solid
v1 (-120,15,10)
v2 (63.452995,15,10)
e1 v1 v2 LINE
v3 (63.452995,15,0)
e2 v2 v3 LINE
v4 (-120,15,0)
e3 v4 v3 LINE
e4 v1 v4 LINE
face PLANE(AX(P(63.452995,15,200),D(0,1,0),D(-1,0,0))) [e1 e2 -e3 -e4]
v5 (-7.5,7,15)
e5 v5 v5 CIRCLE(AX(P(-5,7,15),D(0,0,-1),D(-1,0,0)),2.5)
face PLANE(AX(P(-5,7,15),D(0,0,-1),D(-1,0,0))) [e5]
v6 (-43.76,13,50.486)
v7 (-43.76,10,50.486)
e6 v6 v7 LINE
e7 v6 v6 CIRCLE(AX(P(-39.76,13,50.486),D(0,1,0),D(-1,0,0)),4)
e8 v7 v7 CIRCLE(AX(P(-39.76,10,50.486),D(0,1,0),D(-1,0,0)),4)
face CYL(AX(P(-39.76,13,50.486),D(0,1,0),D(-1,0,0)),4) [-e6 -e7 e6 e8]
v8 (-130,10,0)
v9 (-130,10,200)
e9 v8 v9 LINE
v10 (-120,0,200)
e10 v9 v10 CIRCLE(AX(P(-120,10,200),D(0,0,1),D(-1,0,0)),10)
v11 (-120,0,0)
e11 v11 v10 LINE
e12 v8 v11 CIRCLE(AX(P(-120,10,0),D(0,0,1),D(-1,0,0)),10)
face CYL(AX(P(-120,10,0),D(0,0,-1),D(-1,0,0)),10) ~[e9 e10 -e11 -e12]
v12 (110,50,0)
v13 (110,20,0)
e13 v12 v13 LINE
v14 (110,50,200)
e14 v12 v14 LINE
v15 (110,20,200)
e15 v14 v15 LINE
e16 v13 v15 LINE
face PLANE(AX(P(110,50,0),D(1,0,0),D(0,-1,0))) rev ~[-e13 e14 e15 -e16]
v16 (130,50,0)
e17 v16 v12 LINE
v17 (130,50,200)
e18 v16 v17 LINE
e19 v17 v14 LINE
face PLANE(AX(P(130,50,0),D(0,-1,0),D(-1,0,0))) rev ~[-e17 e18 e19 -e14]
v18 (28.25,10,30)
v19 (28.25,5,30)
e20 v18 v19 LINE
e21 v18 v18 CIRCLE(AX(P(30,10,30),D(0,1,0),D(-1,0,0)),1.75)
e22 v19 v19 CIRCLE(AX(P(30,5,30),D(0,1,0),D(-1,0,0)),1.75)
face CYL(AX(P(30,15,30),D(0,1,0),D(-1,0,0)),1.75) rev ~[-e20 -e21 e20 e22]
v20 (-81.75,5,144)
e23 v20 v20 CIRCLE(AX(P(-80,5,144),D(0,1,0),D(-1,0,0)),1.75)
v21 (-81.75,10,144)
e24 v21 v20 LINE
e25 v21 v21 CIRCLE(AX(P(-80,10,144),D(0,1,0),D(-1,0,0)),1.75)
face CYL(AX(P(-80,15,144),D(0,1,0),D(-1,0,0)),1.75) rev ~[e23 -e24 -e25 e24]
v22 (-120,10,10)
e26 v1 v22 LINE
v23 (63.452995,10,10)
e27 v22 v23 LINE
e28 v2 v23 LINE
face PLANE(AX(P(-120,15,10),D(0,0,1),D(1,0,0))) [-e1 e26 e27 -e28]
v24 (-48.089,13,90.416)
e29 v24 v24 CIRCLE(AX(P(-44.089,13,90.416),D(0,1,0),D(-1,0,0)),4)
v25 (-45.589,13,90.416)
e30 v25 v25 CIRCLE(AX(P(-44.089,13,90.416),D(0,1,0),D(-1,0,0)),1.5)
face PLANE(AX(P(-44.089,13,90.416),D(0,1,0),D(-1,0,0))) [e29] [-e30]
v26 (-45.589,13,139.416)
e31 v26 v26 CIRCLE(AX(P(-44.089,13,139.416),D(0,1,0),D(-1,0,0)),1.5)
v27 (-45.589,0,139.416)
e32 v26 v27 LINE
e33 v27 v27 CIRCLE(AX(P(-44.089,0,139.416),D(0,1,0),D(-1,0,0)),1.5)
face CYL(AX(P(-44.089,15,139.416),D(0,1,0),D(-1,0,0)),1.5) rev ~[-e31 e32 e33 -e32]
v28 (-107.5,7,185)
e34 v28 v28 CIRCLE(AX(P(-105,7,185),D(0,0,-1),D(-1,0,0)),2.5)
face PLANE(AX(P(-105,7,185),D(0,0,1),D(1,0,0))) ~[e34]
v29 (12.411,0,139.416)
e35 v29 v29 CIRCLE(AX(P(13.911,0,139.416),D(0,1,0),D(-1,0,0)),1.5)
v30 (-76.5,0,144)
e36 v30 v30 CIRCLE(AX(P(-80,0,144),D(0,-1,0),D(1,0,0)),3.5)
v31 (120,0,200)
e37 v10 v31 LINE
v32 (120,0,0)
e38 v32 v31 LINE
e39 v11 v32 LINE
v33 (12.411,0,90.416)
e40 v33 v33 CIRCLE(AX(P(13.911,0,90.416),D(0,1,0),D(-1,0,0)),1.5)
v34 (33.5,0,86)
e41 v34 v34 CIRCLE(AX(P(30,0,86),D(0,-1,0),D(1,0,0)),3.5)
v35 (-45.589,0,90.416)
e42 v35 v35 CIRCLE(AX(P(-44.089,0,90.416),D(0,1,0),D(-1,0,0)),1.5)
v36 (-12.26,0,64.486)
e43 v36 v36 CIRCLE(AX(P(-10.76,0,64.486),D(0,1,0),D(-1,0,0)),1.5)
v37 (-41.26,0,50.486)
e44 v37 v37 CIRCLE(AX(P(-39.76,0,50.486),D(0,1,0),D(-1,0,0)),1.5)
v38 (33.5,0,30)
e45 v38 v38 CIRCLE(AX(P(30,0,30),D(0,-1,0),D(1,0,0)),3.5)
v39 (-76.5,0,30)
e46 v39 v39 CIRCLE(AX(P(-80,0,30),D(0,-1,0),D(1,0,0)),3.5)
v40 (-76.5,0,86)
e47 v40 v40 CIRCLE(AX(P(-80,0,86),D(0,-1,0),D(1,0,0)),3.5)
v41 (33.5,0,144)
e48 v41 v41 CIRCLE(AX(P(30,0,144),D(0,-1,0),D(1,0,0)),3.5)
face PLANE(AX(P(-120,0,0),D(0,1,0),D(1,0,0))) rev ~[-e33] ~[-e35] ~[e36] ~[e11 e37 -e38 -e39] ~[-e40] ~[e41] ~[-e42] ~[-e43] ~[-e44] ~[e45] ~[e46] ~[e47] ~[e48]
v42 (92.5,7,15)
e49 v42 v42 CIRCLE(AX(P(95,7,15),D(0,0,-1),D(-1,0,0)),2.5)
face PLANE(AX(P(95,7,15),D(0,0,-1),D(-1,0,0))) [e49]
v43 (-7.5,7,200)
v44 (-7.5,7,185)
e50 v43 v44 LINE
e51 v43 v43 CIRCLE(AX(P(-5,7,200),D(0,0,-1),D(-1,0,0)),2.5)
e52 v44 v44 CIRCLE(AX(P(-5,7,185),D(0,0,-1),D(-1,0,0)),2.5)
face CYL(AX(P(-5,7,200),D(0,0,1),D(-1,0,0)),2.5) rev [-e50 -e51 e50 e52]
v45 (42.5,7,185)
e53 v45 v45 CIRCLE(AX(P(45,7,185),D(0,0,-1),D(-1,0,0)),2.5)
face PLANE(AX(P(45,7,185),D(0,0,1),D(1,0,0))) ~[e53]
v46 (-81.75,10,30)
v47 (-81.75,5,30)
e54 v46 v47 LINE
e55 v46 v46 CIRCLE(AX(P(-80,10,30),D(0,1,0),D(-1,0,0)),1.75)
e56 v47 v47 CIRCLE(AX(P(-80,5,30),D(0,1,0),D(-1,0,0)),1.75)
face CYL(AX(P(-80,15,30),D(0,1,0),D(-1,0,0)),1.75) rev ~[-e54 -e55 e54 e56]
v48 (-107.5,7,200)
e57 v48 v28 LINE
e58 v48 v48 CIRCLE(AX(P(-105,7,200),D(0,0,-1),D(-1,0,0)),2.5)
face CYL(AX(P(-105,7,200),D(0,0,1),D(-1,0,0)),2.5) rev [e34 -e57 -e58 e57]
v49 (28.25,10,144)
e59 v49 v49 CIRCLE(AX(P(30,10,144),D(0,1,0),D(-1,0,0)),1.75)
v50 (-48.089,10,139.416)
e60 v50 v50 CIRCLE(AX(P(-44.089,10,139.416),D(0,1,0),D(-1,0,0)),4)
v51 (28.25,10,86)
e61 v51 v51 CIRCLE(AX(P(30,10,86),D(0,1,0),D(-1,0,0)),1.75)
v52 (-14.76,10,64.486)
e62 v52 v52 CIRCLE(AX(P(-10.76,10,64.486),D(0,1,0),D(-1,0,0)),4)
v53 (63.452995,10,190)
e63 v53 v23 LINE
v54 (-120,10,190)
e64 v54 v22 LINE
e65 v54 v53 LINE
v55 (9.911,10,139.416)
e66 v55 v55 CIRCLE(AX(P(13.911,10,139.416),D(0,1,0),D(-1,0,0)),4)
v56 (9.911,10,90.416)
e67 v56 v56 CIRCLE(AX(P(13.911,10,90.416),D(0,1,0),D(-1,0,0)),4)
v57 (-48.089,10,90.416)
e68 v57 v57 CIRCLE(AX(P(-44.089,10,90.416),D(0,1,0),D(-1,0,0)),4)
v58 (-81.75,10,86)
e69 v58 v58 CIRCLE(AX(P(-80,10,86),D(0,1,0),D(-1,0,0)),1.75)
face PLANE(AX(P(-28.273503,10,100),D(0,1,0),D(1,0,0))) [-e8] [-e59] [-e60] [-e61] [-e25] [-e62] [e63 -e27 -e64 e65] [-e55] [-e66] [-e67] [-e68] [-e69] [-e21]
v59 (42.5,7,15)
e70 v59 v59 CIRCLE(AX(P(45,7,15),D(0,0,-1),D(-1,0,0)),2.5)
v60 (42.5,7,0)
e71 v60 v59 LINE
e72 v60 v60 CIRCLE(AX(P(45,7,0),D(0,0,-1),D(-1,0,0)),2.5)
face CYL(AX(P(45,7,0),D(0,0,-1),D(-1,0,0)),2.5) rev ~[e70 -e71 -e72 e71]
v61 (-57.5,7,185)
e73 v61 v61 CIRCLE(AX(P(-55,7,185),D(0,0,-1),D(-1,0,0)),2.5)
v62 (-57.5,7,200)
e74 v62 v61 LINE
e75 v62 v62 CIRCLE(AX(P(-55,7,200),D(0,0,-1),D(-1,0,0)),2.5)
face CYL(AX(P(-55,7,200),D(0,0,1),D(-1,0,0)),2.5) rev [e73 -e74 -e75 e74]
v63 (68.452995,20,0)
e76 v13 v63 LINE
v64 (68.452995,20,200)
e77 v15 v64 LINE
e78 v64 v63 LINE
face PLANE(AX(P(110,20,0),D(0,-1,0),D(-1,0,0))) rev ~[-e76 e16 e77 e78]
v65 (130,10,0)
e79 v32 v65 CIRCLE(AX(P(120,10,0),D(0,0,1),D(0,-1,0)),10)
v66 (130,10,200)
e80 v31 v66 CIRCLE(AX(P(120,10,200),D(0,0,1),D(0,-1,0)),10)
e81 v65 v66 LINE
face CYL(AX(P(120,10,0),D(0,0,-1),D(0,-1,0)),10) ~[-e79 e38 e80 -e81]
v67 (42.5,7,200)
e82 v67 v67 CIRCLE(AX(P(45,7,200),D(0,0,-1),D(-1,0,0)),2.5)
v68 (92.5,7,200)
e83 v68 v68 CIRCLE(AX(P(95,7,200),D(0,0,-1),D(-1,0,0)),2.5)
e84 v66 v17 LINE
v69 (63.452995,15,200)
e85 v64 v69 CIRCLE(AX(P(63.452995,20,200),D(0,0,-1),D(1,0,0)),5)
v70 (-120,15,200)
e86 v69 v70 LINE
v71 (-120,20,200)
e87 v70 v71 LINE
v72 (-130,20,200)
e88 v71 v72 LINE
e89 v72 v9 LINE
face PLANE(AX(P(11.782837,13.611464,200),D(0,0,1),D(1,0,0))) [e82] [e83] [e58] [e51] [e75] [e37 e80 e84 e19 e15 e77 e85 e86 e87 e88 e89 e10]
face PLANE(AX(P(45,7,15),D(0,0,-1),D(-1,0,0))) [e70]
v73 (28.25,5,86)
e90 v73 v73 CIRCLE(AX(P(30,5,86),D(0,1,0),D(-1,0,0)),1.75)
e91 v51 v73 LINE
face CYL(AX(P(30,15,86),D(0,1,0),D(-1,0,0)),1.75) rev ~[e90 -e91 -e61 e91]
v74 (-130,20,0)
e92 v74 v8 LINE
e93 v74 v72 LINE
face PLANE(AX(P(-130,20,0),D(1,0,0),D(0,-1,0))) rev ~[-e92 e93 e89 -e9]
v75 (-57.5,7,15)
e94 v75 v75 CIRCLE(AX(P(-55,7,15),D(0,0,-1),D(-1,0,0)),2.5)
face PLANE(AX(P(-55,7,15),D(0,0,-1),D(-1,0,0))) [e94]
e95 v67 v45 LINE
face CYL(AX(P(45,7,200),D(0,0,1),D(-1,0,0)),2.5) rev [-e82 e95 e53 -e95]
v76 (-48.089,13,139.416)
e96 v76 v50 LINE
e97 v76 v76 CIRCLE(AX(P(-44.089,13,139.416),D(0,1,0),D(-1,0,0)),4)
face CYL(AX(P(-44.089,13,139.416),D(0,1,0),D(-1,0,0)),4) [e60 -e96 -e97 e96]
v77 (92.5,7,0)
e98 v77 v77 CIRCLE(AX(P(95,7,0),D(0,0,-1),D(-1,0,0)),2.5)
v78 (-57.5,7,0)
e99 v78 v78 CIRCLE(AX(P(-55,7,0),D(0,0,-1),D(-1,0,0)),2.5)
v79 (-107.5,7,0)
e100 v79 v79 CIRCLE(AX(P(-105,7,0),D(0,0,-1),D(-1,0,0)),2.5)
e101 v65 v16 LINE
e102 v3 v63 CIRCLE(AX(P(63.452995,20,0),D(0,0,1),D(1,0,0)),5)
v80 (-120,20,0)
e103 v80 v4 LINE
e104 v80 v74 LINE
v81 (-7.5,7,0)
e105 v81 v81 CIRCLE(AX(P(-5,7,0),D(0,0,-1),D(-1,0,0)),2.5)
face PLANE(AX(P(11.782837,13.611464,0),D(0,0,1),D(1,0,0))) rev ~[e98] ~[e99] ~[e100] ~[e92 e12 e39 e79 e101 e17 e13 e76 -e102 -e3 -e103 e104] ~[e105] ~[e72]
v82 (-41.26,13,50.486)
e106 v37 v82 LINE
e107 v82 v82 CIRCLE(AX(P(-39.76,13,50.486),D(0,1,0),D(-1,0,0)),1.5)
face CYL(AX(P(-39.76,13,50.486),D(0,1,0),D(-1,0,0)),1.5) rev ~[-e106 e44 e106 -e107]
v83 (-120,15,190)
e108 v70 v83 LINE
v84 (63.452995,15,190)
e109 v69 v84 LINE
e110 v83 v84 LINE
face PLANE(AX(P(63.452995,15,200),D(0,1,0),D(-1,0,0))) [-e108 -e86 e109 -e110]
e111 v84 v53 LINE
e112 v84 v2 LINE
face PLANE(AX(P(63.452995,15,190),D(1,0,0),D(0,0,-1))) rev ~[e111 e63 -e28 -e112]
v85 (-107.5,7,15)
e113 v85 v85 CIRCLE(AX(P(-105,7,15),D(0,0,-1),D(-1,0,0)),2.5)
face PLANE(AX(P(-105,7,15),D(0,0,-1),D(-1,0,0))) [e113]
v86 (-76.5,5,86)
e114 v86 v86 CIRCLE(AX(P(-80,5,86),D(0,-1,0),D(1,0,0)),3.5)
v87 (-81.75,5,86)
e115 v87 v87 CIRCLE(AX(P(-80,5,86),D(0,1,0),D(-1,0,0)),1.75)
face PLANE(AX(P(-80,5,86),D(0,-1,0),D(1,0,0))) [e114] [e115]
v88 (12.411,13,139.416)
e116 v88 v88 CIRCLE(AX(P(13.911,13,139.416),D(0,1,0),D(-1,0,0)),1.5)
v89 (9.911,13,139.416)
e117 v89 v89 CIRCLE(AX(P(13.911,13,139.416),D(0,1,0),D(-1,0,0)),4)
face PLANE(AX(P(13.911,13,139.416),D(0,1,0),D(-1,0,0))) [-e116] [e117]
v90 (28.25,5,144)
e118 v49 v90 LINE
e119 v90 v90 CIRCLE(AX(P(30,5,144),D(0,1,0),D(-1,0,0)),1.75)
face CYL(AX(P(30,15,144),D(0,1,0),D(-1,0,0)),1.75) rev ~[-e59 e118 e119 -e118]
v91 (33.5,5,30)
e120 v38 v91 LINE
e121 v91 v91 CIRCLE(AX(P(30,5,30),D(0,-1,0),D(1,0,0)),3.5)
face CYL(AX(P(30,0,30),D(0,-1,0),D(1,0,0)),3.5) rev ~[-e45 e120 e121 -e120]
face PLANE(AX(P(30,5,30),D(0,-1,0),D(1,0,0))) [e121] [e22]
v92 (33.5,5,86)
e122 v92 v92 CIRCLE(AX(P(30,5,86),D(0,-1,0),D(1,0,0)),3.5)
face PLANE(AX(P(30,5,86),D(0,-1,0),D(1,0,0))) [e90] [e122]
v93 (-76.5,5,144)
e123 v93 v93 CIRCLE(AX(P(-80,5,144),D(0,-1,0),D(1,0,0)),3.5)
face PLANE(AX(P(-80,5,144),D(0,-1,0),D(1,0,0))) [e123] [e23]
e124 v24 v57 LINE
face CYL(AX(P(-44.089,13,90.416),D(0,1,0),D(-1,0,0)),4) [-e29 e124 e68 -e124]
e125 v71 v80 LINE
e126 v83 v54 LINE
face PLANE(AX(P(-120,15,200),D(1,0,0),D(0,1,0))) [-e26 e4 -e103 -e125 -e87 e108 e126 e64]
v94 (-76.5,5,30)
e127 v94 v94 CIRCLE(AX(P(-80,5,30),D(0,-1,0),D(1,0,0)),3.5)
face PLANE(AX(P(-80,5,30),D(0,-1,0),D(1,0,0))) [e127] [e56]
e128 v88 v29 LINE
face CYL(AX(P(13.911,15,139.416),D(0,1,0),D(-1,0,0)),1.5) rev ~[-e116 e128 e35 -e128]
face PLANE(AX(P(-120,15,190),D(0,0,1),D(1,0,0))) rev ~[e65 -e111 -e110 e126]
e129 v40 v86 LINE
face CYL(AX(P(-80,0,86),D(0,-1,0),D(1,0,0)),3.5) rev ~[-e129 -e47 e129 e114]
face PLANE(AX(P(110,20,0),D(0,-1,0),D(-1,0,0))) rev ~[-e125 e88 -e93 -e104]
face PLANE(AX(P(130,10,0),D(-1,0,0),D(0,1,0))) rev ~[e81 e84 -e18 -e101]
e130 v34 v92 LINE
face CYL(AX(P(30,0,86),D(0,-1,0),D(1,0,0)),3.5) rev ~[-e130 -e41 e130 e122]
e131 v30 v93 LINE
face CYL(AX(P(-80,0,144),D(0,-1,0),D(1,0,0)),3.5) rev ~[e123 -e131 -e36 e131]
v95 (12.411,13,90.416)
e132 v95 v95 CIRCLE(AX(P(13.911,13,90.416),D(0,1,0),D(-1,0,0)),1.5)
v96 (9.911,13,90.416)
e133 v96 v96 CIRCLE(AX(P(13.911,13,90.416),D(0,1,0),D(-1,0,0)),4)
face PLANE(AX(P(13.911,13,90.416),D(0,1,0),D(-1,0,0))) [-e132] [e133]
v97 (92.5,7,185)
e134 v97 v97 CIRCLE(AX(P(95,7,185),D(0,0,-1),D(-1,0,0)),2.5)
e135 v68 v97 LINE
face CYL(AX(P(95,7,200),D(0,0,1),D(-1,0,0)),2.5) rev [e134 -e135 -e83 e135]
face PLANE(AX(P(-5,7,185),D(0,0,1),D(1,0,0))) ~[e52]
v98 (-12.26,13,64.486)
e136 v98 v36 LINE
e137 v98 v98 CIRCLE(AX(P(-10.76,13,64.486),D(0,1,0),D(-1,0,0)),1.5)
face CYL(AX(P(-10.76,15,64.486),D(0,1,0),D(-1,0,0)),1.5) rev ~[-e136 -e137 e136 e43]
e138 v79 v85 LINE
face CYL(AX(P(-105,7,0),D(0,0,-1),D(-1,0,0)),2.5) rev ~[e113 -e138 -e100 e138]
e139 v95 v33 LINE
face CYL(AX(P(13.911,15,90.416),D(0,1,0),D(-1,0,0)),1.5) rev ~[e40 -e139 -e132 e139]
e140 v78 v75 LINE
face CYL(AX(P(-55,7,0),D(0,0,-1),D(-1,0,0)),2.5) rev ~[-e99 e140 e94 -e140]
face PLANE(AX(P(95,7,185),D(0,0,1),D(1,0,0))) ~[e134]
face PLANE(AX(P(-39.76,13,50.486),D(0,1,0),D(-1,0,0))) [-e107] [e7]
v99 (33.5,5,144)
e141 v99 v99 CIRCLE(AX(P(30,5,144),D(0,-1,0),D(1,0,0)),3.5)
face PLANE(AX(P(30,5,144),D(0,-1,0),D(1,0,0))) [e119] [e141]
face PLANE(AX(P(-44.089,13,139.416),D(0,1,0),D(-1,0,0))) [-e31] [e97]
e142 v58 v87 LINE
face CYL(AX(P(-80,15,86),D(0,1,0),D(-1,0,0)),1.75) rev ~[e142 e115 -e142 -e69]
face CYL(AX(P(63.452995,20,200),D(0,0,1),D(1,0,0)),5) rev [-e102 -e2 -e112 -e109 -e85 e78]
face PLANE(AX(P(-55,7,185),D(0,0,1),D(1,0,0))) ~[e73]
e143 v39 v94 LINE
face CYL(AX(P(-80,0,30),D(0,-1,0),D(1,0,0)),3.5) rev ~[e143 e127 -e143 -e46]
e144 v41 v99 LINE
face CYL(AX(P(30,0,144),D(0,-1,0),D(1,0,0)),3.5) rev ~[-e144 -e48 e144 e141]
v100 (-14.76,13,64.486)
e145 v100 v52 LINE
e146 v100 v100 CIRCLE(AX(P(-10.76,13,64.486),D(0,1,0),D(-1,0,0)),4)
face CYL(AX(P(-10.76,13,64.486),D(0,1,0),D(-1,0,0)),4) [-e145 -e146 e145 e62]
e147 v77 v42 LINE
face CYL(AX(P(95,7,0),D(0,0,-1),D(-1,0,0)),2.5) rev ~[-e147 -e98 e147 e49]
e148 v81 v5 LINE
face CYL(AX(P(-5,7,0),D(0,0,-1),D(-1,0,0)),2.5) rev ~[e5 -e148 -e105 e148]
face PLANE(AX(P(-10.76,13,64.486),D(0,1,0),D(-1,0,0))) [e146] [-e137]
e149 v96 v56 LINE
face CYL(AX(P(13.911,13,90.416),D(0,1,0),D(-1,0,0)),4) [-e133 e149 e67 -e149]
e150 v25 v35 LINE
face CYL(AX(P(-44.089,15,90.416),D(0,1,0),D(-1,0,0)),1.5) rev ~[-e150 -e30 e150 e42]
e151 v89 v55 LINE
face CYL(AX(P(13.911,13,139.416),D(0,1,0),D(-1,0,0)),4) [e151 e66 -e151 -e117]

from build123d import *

# Parameters (mm, degrees)
EXTRUDE_1_DEPTH     = 200
CUT_EXTRUDE_1_REACH = 245.721
CUT_EXTRUDE_2_REACH = 243.091
SKETCH_4_R          = 1.75
SKETCH_4_R_2        = 1.5
SKETCH_6_W          = 183.452994616
SKETCH_6_H          = 180
CUT_EXTRUDE_4_DEPTH = 5
EXTRUDE_START       = 3
SKETCH_7_R          = 4
SKETCH_7_R_2        = 1.5
EXTRUDE_2_DEPTH     = 3
SKETCH_8_R          = 2.5
CUT_EXTRUDE_5_DEPTH = 15
SKETCH_9_R          = 3.5
CUT_EXTRUDE_6_DEPTH = 5


with BuildPart() as part:
    # 草图1 → 凸台-拉伸1 (new body)
    with BuildSketch(Plane.XY):
        with BuildLine():
            Line((-120, 0), (120, 0))
            ThreePointArc((120, 0), (127.071067812, 2.928932188), (130, 10))
            Line((130, 10), (130, 49.985304377))
            Line((130, 49.985304377), (130, 50))
            Line((130, 50), (110, 50))
            Line((110, 50), (110, 48.038475773))
            Line((110, 48.038475773), (110, 20))
            Line((110, 20), (-110, 20))
            Line((-110, 20), (-130, 20))
            Line((-130, 20), (-130, 10))
            ThreePointArc((-130, 10), (-127.071067812, 2.928932188), (-120, 0))
        make_face()
    extrude(amount=EXTRUDE_1_DEPTH)

    # 草图3 → 切除-拉伸1 (cut, up to next)
    with BuildSketch(Plane.XY.offset(200), mode=Mode.PRIVATE) as cut_extrude_1_sk1:
        with BuildLine():
            Line((-120, 20), (68.452994616, 20))
            ThreePointArc((68.452994616, 20), (66.988528522, 16.464466094), (63.452994616, 15))
            Line((63.452994616, 15), (-120, 15))
            Line((-120, 15), (-120, 20))
        make_face()
    cut_extrude_1_tool1 = extrude(cut_extrude_1_sk1.sketch, amount=-CUT_EXTRUDE_1_REACH, mode=Mode.PRIVATE) & part.part
    add(cut_extrude_1_tool1.solids().sort_by_distance((-26.306684, 17.507921, 200))[0], mode=Mode.SUBTRACT)

    # 草图4 → 切除-拉伸2 (cut, up to next)
    with BuildSketch(Plane(origin=(0, 15, 0), x_dir=(1, 0, 0), z_dir=(0, 1, 0)), mode=Mode.PRIVATE) as cut_extrude_2_sk1:
        with Locations(Location((30, -30, 0), (0, 0, 180))):
            Circle(SKETCH_4_R)
    cut_extrude_2_tool1 = extrude(cut_extrude_2_sk1.sketch, amount=-CUT_EXTRUDE_2_REACH, mode=Mode.PRIVATE) & part.part
    # 草图4 → 切除-拉伸2 (cut, up to next)
    with BuildSketch(Plane(origin=(0, 15, 0), x_dir=(1, 0, 0), z_dir=(0, 1, 0)), mode=Mode.PRIVATE) as cut_extrude_2_sk2:
        with Locations(Location((30, -86, 0), (0, 0, 180))):
            Circle(SKETCH_4_R)
    cut_extrude_2_tool2 = extrude(cut_extrude_2_sk2.sketch, amount=-CUT_EXTRUDE_2_REACH, mode=Mode.PRIVATE) & part.part
    # 草图4 → 切除-拉伸2 (cut, up to next)
    with BuildSketch(Plane(origin=(0, 15, 0), x_dir=(1, 0, 0), z_dir=(0, 1, 0)), mode=Mode.PRIVATE) as cut_extrude_2_sk3:
        with Locations(Location((30, -144, 0), (0, 0, 180))):
            Circle(SKETCH_4_R)
    cut_extrude_2_tool3 = extrude(cut_extrude_2_sk3.sketch, amount=-CUT_EXTRUDE_2_REACH, mode=Mode.PRIVATE) & part.part
    # 草图4 → 切除-拉伸2 (cut, up to next)
    with BuildSketch(Plane(origin=(0, 15, 0), x_dir=(1, 0, 0), z_dir=(0, 1, 0)), mode=Mode.PRIVATE) as cut_extrude_2_sk4:
        with Locations(Location((-80, -144, 0), (0, 0, 180))):
            Circle(SKETCH_4_R)
    cut_extrude_2_tool4 = extrude(cut_extrude_2_sk4.sketch, amount=-CUT_EXTRUDE_2_REACH, mode=Mode.PRIVATE) & part.part
    # 草图4 → 切除-拉伸2 (cut, up to next)
    with BuildSketch(Plane(origin=(0, 15, 0), x_dir=(1, 0, 0), z_dir=(0, 1, 0)), mode=Mode.PRIVATE) as cut_extrude_2_sk5:
        with Locations(Location((-80, -86, 0), (0, 0, 180))):
            Circle(SKETCH_4_R)
    cut_extrude_2_tool5 = extrude(cut_extrude_2_sk5.sketch, amount=-CUT_EXTRUDE_2_REACH, mode=Mode.PRIVATE) & part.part
    # 草图4 → 切除-拉伸2 (cut, up to next)
    with BuildSketch(Plane(origin=(0, 15, 0), x_dir=(1, 0, 0), z_dir=(0, 1, 0)), mode=Mode.PRIVATE) as cut_extrude_2_sk6:
        with Locations(Location((-80, -30, 0), (0, 0, 180))):
            Circle(SKETCH_4_R)
    cut_extrude_2_tool6 = extrude(cut_extrude_2_sk6.sketch, amount=-CUT_EXTRUDE_2_REACH, mode=Mode.PRIVATE) & part.part
    # 草图4 → 切除-拉伸2 (cut, up to next)
    with BuildSketch(Plane(origin=(0, 15, 0), x_dir=(1, 0, 0), z_dir=(0, 1, 0)), mode=Mode.PRIVATE) as cut_extrude_2_sk7:
        with Locations(Location((-10.76, -64.486, 0), (0, 0, 180))):
            Circle(SKETCH_4_R_2)
    cut_extrude_2_tool7 = extrude(cut_extrude_2_sk7.sketch, amount=-CUT_EXTRUDE_2_REACH, mode=Mode.PRIVATE) & part.part
    # 草图4 → 切除-拉伸2 (cut, up to next)
    with BuildSketch(Plane(origin=(0, 15, 0), x_dir=(1, 0, 0), z_dir=(0, 1, 0)), mode=Mode.PRIVATE) as cut_extrude_2_sk8:
        with Locations(Location((-39.76, -50.486, 0), (0, 0, 180))):
            Circle(SKETCH_4_R_2)
    cut_extrude_2_tool8 = extrude(cut_extrude_2_sk8.sketch, amount=-CUT_EXTRUDE_2_REACH, mode=Mode.PRIVATE) & part.part
    # 草图4 → 切除-拉伸2 (cut, up to next)
    with BuildSketch(Plane(origin=(0, 15, 0), x_dir=(1, 0, 0), z_dir=(0, 1, 0)), mode=Mode.PRIVATE) as cut_extrude_2_sk9:
        with Locations(Location((-44.089, -90.416, 0), (0, 0, 180))):
            Circle(SKETCH_4_R_2)
    cut_extrude_2_tool9 = extrude(cut_extrude_2_sk9.sketch, amount=-CUT_EXTRUDE_2_REACH, mode=Mode.PRIVATE) & part.part
    # 草图4 → 切除-拉伸2 (cut, up to next)
    with BuildSketch(Plane(origin=(0, 15, 0), x_dir=(1, 0, 0), z_dir=(0, 1, 0)), mode=Mode.PRIVATE) as cut_extrude_2_sk10:
        with Locations(Location((13.911, -90.416, 0), (0, 0, 180))):
            Circle(SKETCH_4_R_2)
    cut_extrude_2_tool10 = extrude(cut_extrude_2_sk10.sketch, amount=-CUT_EXTRUDE_2_REACH, mode=Mode.PRIVATE) & part.part
    # 草图4 → 切除-拉伸2 (cut, up to next)
    with BuildSketch(Plane(origin=(0, 15, 0), x_dir=(1, 0, 0), z_dir=(0, 1, 0)), mode=Mode.PRIVATE) as cut_extrude_2_sk11:
        with Locations(Location((13.911, -139.416, 0), (0, 0, 180))):
            Circle(SKETCH_4_R_2)
    cut_extrude_2_tool11 = extrude(cut_extrude_2_sk11.sketch, amount=-CUT_EXTRUDE_2_REACH, mode=Mode.PRIVATE) & part.part
    # 草图4 → 切除-拉伸2 (cut, up to next)
    with BuildSketch(Plane(origin=(0, 15, 0), x_dir=(1, 0, 0), z_dir=(0, 1, 0)), mode=Mode.PRIVATE) as cut_extrude_2_sk12:
        with Locations(Location((-44.089, -139.416, 0), (0, 0, 180))):
            Circle(SKETCH_4_R_2)
    cut_extrude_2_tool12 = extrude(cut_extrude_2_sk12.sketch, amount=-CUT_EXTRUDE_2_REACH, mode=Mode.PRIVATE) & part.part
    add(cut_extrude_2_tool1.solids().sort_by_distance((30, 15, 30))[0], mode=Mode.SUBTRACT)
    add(cut_extrude_2_tool2.solids().sort_by_distance((30, 15, 86))[0], mode=Mode.SUBTRACT)
    add(cut_extrude_2_tool3.solids().sort_by_distance((30, 15, 144))[0], mode=Mode.SUBTRACT)
    add(cut_extrude_2_tool4.solids().sort_by_distance((-80, 15, 144))[0], mode=Mode.SUBTRACT)
    add(cut_extrude_2_tool5.solids().sort_by_distance((-80, 15, 86))[0], mode=Mode.SUBTRACT)
    add(cut_extrude_2_tool6.solids().sort_by_distance((-80, 15, 30))[0], mode=Mode.SUBTRACT)
    add(cut_extrude_2_tool7.solids().sort_by_distance((-10.76, 15, 64.486))[0], mode=Mode.SUBTRACT)
    add(cut_extrude_2_tool8.solids().sort_by_distance((-39.76, 15, 50.486))[0], mode=Mode.SUBTRACT)
    add(cut_extrude_2_tool9.solids().sort_by_distance((-44.089, 15, 90.416))[0], mode=Mode.SUBTRACT)
    add(cut_extrude_2_tool10.solids().sort_by_distance((13.911, 15, 90.416))[0], mode=Mode.SUBTRACT)
    add(cut_extrude_2_tool11.solids().sort_by_distance((13.911, 15, 139.416))[0], mode=Mode.SUBTRACT)
    add(cut_extrude_2_tool12.solids().sort_by_distance((-44.089, 15, 139.416))[0], mode=Mode.SUBTRACT)

    # 草图6 → 切除-拉伸4 (cut)
    with BuildSketch(Plane(origin=(0, 15, 0), x_dir=(1, 0, 0), z_dir=(0, 1, 0))):
        with Locations((-28.273502692, -100)):
            Rectangle(SKETCH_6_W, SKETCH_6_H)
    extrude(amount=-CUT_EXTRUDE_4_DEPTH, mode=Mode.SUBTRACT)

    # 草图7 → 凸台-拉伸2 (add)
    # profile 1 of 6: a face of its own
    with BuildSketch(Plane(origin=(0, 10, 0), x_dir=(1, 0, 0), z_dir=(0, 1, 0)).offset(EXTRUDE_START)):
        with Locations(Location((-39.76, -50.486, 0), (0, 0, 180))):
            Circle(SKETCH_7_R)
        with Locations(Location((-39.76, -50.486, 0), (0, 0, 180))):
            Circle(SKETCH_7_R_2, mode=Mode.SUBTRACT)
    # profile 2 of 6: a face of its own
    with BuildSketch(Plane(origin=(0, 10, 0), x_dir=(1, 0, 0), z_dir=(0, 1, 0)).offset(EXTRUDE_START)):
        with Locations(Location((-10.76, -64.486, 0), (0, 0, 180))):
            Circle(SKETCH_7_R)
        with Locations(Location((-10.76, -64.486, 0), (0, 0, 180))):
            Circle(SKETCH_7_R_2, mode=Mode.SUBTRACT)
    # profile 3 of 6: a face of its own
    with BuildSketch(Plane(origin=(0, 10, 0), x_dir=(1, 0, 0), z_dir=(0, 1, 0)).offset(EXTRUDE_START)):
        with Locations(Location((13.911, -90.416, 0), (0, 0, 180))):
            Circle(SKETCH_7_R)
        with Locations(Location((13.911, -90.416, 0), (0, 0, 180))):
            Circle(SKETCH_7_R_2, mode=Mode.SUBTRACT)
    # profile 4 of 6: a face of its own
    with BuildSketch(Plane(origin=(0, 10, 0), x_dir=(1, 0, 0), z_dir=(0, 1, 0)).offset(EXTRUDE_START)):
        with Locations(Location((13.911, -139.416, 0), (0, 0, 180))):
            Circle(SKETCH_7_R)
        with Locations(Location((13.911, -139.416, 0), (0, 0, 180))):
            Circle(SKETCH_7_R_2, mode=Mode.SUBTRACT)
    # profile 5 of 6: a face of its own
    with BuildSketch(Plane(origin=(0, 10, 0), x_dir=(1, 0, 0), z_dir=(0, 1, 0)).offset(EXTRUDE_START)):
        with Locations(Location((-44.089, -139.416, 0), (0, 0, 180))):
            Circle(SKETCH_7_R)
        with Locations(Location((-44.089, -139.416, 0), (0, 0, 180))):
            Circle(SKETCH_7_R_2, mode=Mode.SUBTRACT)
    # profile 6 of 6: a face of its own
    with BuildSketch(Plane(origin=(0, 10, 0), x_dir=(1, 0, 0), z_dir=(0, 1, 0)).offset(EXTRUDE_START)):
        with Locations(Location((-44.089, -90.416, 0), (0, 0, 180))):
            Circle(SKETCH_7_R)
        with Locations(Location((-44.089, -90.416, 0), (0, 0, 180))):
            Circle(SKETCH_7_R_2, mode=Mode.SUBTRACT)
    extrude(amount=-EXTRUDE_2_DEPTH)

    # 草图8 → 切除-拉伸5 (cut)
    with BuildSketch(Plane(origin=(0, 0, 0), x_dir=(-1, 0, 0), z_dir=(0, 0, -1))):
        with Locations((105, 7)):
            Circle(SKETCH_8_R)
        with Locations((55, 7)):
            Circle(SKETCH_8_R)
        with Locations((5, 7)):
            Circle(SKETCH_8_R)
        with Locations((-45, 7)):
            Circle(SKETCH_8_R)
        with Locations((-95, 7)):
            Circle(SKETCH_8_R)
    cut_extrude_5 = extrude(amount=-CUT_EXTRUDE_5_DEPTH, mode=Mode.SUBTRACT)

    # 镜向1: 切除-拉伸5 across plane
    add(cut_extrude_5.mirror(Plane(origin=(0, 0, 100), x_dir=(1, 0, 0), z_dir=(0, 0, -1))), mode=Mode.SUBTRACT)

    # 草图9 → 切除-拉伸6 (cut)
    with BuildSketch(Plane.XZ):
        with Locations((-80, 144)):
            Circle(SKETCH_9_R)
        with Locations((30, 144)):
            Circle(SKETCH_9_R)
        with Locations((30, 86)):
            Circle(SKETCH_9_R)
        with Locations((30, 30)):
            Circle(SKETCH_9_R)
        with Locations((-80, 30)):
            Circle(SKETCH_9_R)
        with Locations((-80, 86)):
            Circle(SKETCH_9_R)
    extrude(amount=-CUT_EXTRUDE_6_DEPTH, mode=Mode.SUBTRACT)


solid = part.part
